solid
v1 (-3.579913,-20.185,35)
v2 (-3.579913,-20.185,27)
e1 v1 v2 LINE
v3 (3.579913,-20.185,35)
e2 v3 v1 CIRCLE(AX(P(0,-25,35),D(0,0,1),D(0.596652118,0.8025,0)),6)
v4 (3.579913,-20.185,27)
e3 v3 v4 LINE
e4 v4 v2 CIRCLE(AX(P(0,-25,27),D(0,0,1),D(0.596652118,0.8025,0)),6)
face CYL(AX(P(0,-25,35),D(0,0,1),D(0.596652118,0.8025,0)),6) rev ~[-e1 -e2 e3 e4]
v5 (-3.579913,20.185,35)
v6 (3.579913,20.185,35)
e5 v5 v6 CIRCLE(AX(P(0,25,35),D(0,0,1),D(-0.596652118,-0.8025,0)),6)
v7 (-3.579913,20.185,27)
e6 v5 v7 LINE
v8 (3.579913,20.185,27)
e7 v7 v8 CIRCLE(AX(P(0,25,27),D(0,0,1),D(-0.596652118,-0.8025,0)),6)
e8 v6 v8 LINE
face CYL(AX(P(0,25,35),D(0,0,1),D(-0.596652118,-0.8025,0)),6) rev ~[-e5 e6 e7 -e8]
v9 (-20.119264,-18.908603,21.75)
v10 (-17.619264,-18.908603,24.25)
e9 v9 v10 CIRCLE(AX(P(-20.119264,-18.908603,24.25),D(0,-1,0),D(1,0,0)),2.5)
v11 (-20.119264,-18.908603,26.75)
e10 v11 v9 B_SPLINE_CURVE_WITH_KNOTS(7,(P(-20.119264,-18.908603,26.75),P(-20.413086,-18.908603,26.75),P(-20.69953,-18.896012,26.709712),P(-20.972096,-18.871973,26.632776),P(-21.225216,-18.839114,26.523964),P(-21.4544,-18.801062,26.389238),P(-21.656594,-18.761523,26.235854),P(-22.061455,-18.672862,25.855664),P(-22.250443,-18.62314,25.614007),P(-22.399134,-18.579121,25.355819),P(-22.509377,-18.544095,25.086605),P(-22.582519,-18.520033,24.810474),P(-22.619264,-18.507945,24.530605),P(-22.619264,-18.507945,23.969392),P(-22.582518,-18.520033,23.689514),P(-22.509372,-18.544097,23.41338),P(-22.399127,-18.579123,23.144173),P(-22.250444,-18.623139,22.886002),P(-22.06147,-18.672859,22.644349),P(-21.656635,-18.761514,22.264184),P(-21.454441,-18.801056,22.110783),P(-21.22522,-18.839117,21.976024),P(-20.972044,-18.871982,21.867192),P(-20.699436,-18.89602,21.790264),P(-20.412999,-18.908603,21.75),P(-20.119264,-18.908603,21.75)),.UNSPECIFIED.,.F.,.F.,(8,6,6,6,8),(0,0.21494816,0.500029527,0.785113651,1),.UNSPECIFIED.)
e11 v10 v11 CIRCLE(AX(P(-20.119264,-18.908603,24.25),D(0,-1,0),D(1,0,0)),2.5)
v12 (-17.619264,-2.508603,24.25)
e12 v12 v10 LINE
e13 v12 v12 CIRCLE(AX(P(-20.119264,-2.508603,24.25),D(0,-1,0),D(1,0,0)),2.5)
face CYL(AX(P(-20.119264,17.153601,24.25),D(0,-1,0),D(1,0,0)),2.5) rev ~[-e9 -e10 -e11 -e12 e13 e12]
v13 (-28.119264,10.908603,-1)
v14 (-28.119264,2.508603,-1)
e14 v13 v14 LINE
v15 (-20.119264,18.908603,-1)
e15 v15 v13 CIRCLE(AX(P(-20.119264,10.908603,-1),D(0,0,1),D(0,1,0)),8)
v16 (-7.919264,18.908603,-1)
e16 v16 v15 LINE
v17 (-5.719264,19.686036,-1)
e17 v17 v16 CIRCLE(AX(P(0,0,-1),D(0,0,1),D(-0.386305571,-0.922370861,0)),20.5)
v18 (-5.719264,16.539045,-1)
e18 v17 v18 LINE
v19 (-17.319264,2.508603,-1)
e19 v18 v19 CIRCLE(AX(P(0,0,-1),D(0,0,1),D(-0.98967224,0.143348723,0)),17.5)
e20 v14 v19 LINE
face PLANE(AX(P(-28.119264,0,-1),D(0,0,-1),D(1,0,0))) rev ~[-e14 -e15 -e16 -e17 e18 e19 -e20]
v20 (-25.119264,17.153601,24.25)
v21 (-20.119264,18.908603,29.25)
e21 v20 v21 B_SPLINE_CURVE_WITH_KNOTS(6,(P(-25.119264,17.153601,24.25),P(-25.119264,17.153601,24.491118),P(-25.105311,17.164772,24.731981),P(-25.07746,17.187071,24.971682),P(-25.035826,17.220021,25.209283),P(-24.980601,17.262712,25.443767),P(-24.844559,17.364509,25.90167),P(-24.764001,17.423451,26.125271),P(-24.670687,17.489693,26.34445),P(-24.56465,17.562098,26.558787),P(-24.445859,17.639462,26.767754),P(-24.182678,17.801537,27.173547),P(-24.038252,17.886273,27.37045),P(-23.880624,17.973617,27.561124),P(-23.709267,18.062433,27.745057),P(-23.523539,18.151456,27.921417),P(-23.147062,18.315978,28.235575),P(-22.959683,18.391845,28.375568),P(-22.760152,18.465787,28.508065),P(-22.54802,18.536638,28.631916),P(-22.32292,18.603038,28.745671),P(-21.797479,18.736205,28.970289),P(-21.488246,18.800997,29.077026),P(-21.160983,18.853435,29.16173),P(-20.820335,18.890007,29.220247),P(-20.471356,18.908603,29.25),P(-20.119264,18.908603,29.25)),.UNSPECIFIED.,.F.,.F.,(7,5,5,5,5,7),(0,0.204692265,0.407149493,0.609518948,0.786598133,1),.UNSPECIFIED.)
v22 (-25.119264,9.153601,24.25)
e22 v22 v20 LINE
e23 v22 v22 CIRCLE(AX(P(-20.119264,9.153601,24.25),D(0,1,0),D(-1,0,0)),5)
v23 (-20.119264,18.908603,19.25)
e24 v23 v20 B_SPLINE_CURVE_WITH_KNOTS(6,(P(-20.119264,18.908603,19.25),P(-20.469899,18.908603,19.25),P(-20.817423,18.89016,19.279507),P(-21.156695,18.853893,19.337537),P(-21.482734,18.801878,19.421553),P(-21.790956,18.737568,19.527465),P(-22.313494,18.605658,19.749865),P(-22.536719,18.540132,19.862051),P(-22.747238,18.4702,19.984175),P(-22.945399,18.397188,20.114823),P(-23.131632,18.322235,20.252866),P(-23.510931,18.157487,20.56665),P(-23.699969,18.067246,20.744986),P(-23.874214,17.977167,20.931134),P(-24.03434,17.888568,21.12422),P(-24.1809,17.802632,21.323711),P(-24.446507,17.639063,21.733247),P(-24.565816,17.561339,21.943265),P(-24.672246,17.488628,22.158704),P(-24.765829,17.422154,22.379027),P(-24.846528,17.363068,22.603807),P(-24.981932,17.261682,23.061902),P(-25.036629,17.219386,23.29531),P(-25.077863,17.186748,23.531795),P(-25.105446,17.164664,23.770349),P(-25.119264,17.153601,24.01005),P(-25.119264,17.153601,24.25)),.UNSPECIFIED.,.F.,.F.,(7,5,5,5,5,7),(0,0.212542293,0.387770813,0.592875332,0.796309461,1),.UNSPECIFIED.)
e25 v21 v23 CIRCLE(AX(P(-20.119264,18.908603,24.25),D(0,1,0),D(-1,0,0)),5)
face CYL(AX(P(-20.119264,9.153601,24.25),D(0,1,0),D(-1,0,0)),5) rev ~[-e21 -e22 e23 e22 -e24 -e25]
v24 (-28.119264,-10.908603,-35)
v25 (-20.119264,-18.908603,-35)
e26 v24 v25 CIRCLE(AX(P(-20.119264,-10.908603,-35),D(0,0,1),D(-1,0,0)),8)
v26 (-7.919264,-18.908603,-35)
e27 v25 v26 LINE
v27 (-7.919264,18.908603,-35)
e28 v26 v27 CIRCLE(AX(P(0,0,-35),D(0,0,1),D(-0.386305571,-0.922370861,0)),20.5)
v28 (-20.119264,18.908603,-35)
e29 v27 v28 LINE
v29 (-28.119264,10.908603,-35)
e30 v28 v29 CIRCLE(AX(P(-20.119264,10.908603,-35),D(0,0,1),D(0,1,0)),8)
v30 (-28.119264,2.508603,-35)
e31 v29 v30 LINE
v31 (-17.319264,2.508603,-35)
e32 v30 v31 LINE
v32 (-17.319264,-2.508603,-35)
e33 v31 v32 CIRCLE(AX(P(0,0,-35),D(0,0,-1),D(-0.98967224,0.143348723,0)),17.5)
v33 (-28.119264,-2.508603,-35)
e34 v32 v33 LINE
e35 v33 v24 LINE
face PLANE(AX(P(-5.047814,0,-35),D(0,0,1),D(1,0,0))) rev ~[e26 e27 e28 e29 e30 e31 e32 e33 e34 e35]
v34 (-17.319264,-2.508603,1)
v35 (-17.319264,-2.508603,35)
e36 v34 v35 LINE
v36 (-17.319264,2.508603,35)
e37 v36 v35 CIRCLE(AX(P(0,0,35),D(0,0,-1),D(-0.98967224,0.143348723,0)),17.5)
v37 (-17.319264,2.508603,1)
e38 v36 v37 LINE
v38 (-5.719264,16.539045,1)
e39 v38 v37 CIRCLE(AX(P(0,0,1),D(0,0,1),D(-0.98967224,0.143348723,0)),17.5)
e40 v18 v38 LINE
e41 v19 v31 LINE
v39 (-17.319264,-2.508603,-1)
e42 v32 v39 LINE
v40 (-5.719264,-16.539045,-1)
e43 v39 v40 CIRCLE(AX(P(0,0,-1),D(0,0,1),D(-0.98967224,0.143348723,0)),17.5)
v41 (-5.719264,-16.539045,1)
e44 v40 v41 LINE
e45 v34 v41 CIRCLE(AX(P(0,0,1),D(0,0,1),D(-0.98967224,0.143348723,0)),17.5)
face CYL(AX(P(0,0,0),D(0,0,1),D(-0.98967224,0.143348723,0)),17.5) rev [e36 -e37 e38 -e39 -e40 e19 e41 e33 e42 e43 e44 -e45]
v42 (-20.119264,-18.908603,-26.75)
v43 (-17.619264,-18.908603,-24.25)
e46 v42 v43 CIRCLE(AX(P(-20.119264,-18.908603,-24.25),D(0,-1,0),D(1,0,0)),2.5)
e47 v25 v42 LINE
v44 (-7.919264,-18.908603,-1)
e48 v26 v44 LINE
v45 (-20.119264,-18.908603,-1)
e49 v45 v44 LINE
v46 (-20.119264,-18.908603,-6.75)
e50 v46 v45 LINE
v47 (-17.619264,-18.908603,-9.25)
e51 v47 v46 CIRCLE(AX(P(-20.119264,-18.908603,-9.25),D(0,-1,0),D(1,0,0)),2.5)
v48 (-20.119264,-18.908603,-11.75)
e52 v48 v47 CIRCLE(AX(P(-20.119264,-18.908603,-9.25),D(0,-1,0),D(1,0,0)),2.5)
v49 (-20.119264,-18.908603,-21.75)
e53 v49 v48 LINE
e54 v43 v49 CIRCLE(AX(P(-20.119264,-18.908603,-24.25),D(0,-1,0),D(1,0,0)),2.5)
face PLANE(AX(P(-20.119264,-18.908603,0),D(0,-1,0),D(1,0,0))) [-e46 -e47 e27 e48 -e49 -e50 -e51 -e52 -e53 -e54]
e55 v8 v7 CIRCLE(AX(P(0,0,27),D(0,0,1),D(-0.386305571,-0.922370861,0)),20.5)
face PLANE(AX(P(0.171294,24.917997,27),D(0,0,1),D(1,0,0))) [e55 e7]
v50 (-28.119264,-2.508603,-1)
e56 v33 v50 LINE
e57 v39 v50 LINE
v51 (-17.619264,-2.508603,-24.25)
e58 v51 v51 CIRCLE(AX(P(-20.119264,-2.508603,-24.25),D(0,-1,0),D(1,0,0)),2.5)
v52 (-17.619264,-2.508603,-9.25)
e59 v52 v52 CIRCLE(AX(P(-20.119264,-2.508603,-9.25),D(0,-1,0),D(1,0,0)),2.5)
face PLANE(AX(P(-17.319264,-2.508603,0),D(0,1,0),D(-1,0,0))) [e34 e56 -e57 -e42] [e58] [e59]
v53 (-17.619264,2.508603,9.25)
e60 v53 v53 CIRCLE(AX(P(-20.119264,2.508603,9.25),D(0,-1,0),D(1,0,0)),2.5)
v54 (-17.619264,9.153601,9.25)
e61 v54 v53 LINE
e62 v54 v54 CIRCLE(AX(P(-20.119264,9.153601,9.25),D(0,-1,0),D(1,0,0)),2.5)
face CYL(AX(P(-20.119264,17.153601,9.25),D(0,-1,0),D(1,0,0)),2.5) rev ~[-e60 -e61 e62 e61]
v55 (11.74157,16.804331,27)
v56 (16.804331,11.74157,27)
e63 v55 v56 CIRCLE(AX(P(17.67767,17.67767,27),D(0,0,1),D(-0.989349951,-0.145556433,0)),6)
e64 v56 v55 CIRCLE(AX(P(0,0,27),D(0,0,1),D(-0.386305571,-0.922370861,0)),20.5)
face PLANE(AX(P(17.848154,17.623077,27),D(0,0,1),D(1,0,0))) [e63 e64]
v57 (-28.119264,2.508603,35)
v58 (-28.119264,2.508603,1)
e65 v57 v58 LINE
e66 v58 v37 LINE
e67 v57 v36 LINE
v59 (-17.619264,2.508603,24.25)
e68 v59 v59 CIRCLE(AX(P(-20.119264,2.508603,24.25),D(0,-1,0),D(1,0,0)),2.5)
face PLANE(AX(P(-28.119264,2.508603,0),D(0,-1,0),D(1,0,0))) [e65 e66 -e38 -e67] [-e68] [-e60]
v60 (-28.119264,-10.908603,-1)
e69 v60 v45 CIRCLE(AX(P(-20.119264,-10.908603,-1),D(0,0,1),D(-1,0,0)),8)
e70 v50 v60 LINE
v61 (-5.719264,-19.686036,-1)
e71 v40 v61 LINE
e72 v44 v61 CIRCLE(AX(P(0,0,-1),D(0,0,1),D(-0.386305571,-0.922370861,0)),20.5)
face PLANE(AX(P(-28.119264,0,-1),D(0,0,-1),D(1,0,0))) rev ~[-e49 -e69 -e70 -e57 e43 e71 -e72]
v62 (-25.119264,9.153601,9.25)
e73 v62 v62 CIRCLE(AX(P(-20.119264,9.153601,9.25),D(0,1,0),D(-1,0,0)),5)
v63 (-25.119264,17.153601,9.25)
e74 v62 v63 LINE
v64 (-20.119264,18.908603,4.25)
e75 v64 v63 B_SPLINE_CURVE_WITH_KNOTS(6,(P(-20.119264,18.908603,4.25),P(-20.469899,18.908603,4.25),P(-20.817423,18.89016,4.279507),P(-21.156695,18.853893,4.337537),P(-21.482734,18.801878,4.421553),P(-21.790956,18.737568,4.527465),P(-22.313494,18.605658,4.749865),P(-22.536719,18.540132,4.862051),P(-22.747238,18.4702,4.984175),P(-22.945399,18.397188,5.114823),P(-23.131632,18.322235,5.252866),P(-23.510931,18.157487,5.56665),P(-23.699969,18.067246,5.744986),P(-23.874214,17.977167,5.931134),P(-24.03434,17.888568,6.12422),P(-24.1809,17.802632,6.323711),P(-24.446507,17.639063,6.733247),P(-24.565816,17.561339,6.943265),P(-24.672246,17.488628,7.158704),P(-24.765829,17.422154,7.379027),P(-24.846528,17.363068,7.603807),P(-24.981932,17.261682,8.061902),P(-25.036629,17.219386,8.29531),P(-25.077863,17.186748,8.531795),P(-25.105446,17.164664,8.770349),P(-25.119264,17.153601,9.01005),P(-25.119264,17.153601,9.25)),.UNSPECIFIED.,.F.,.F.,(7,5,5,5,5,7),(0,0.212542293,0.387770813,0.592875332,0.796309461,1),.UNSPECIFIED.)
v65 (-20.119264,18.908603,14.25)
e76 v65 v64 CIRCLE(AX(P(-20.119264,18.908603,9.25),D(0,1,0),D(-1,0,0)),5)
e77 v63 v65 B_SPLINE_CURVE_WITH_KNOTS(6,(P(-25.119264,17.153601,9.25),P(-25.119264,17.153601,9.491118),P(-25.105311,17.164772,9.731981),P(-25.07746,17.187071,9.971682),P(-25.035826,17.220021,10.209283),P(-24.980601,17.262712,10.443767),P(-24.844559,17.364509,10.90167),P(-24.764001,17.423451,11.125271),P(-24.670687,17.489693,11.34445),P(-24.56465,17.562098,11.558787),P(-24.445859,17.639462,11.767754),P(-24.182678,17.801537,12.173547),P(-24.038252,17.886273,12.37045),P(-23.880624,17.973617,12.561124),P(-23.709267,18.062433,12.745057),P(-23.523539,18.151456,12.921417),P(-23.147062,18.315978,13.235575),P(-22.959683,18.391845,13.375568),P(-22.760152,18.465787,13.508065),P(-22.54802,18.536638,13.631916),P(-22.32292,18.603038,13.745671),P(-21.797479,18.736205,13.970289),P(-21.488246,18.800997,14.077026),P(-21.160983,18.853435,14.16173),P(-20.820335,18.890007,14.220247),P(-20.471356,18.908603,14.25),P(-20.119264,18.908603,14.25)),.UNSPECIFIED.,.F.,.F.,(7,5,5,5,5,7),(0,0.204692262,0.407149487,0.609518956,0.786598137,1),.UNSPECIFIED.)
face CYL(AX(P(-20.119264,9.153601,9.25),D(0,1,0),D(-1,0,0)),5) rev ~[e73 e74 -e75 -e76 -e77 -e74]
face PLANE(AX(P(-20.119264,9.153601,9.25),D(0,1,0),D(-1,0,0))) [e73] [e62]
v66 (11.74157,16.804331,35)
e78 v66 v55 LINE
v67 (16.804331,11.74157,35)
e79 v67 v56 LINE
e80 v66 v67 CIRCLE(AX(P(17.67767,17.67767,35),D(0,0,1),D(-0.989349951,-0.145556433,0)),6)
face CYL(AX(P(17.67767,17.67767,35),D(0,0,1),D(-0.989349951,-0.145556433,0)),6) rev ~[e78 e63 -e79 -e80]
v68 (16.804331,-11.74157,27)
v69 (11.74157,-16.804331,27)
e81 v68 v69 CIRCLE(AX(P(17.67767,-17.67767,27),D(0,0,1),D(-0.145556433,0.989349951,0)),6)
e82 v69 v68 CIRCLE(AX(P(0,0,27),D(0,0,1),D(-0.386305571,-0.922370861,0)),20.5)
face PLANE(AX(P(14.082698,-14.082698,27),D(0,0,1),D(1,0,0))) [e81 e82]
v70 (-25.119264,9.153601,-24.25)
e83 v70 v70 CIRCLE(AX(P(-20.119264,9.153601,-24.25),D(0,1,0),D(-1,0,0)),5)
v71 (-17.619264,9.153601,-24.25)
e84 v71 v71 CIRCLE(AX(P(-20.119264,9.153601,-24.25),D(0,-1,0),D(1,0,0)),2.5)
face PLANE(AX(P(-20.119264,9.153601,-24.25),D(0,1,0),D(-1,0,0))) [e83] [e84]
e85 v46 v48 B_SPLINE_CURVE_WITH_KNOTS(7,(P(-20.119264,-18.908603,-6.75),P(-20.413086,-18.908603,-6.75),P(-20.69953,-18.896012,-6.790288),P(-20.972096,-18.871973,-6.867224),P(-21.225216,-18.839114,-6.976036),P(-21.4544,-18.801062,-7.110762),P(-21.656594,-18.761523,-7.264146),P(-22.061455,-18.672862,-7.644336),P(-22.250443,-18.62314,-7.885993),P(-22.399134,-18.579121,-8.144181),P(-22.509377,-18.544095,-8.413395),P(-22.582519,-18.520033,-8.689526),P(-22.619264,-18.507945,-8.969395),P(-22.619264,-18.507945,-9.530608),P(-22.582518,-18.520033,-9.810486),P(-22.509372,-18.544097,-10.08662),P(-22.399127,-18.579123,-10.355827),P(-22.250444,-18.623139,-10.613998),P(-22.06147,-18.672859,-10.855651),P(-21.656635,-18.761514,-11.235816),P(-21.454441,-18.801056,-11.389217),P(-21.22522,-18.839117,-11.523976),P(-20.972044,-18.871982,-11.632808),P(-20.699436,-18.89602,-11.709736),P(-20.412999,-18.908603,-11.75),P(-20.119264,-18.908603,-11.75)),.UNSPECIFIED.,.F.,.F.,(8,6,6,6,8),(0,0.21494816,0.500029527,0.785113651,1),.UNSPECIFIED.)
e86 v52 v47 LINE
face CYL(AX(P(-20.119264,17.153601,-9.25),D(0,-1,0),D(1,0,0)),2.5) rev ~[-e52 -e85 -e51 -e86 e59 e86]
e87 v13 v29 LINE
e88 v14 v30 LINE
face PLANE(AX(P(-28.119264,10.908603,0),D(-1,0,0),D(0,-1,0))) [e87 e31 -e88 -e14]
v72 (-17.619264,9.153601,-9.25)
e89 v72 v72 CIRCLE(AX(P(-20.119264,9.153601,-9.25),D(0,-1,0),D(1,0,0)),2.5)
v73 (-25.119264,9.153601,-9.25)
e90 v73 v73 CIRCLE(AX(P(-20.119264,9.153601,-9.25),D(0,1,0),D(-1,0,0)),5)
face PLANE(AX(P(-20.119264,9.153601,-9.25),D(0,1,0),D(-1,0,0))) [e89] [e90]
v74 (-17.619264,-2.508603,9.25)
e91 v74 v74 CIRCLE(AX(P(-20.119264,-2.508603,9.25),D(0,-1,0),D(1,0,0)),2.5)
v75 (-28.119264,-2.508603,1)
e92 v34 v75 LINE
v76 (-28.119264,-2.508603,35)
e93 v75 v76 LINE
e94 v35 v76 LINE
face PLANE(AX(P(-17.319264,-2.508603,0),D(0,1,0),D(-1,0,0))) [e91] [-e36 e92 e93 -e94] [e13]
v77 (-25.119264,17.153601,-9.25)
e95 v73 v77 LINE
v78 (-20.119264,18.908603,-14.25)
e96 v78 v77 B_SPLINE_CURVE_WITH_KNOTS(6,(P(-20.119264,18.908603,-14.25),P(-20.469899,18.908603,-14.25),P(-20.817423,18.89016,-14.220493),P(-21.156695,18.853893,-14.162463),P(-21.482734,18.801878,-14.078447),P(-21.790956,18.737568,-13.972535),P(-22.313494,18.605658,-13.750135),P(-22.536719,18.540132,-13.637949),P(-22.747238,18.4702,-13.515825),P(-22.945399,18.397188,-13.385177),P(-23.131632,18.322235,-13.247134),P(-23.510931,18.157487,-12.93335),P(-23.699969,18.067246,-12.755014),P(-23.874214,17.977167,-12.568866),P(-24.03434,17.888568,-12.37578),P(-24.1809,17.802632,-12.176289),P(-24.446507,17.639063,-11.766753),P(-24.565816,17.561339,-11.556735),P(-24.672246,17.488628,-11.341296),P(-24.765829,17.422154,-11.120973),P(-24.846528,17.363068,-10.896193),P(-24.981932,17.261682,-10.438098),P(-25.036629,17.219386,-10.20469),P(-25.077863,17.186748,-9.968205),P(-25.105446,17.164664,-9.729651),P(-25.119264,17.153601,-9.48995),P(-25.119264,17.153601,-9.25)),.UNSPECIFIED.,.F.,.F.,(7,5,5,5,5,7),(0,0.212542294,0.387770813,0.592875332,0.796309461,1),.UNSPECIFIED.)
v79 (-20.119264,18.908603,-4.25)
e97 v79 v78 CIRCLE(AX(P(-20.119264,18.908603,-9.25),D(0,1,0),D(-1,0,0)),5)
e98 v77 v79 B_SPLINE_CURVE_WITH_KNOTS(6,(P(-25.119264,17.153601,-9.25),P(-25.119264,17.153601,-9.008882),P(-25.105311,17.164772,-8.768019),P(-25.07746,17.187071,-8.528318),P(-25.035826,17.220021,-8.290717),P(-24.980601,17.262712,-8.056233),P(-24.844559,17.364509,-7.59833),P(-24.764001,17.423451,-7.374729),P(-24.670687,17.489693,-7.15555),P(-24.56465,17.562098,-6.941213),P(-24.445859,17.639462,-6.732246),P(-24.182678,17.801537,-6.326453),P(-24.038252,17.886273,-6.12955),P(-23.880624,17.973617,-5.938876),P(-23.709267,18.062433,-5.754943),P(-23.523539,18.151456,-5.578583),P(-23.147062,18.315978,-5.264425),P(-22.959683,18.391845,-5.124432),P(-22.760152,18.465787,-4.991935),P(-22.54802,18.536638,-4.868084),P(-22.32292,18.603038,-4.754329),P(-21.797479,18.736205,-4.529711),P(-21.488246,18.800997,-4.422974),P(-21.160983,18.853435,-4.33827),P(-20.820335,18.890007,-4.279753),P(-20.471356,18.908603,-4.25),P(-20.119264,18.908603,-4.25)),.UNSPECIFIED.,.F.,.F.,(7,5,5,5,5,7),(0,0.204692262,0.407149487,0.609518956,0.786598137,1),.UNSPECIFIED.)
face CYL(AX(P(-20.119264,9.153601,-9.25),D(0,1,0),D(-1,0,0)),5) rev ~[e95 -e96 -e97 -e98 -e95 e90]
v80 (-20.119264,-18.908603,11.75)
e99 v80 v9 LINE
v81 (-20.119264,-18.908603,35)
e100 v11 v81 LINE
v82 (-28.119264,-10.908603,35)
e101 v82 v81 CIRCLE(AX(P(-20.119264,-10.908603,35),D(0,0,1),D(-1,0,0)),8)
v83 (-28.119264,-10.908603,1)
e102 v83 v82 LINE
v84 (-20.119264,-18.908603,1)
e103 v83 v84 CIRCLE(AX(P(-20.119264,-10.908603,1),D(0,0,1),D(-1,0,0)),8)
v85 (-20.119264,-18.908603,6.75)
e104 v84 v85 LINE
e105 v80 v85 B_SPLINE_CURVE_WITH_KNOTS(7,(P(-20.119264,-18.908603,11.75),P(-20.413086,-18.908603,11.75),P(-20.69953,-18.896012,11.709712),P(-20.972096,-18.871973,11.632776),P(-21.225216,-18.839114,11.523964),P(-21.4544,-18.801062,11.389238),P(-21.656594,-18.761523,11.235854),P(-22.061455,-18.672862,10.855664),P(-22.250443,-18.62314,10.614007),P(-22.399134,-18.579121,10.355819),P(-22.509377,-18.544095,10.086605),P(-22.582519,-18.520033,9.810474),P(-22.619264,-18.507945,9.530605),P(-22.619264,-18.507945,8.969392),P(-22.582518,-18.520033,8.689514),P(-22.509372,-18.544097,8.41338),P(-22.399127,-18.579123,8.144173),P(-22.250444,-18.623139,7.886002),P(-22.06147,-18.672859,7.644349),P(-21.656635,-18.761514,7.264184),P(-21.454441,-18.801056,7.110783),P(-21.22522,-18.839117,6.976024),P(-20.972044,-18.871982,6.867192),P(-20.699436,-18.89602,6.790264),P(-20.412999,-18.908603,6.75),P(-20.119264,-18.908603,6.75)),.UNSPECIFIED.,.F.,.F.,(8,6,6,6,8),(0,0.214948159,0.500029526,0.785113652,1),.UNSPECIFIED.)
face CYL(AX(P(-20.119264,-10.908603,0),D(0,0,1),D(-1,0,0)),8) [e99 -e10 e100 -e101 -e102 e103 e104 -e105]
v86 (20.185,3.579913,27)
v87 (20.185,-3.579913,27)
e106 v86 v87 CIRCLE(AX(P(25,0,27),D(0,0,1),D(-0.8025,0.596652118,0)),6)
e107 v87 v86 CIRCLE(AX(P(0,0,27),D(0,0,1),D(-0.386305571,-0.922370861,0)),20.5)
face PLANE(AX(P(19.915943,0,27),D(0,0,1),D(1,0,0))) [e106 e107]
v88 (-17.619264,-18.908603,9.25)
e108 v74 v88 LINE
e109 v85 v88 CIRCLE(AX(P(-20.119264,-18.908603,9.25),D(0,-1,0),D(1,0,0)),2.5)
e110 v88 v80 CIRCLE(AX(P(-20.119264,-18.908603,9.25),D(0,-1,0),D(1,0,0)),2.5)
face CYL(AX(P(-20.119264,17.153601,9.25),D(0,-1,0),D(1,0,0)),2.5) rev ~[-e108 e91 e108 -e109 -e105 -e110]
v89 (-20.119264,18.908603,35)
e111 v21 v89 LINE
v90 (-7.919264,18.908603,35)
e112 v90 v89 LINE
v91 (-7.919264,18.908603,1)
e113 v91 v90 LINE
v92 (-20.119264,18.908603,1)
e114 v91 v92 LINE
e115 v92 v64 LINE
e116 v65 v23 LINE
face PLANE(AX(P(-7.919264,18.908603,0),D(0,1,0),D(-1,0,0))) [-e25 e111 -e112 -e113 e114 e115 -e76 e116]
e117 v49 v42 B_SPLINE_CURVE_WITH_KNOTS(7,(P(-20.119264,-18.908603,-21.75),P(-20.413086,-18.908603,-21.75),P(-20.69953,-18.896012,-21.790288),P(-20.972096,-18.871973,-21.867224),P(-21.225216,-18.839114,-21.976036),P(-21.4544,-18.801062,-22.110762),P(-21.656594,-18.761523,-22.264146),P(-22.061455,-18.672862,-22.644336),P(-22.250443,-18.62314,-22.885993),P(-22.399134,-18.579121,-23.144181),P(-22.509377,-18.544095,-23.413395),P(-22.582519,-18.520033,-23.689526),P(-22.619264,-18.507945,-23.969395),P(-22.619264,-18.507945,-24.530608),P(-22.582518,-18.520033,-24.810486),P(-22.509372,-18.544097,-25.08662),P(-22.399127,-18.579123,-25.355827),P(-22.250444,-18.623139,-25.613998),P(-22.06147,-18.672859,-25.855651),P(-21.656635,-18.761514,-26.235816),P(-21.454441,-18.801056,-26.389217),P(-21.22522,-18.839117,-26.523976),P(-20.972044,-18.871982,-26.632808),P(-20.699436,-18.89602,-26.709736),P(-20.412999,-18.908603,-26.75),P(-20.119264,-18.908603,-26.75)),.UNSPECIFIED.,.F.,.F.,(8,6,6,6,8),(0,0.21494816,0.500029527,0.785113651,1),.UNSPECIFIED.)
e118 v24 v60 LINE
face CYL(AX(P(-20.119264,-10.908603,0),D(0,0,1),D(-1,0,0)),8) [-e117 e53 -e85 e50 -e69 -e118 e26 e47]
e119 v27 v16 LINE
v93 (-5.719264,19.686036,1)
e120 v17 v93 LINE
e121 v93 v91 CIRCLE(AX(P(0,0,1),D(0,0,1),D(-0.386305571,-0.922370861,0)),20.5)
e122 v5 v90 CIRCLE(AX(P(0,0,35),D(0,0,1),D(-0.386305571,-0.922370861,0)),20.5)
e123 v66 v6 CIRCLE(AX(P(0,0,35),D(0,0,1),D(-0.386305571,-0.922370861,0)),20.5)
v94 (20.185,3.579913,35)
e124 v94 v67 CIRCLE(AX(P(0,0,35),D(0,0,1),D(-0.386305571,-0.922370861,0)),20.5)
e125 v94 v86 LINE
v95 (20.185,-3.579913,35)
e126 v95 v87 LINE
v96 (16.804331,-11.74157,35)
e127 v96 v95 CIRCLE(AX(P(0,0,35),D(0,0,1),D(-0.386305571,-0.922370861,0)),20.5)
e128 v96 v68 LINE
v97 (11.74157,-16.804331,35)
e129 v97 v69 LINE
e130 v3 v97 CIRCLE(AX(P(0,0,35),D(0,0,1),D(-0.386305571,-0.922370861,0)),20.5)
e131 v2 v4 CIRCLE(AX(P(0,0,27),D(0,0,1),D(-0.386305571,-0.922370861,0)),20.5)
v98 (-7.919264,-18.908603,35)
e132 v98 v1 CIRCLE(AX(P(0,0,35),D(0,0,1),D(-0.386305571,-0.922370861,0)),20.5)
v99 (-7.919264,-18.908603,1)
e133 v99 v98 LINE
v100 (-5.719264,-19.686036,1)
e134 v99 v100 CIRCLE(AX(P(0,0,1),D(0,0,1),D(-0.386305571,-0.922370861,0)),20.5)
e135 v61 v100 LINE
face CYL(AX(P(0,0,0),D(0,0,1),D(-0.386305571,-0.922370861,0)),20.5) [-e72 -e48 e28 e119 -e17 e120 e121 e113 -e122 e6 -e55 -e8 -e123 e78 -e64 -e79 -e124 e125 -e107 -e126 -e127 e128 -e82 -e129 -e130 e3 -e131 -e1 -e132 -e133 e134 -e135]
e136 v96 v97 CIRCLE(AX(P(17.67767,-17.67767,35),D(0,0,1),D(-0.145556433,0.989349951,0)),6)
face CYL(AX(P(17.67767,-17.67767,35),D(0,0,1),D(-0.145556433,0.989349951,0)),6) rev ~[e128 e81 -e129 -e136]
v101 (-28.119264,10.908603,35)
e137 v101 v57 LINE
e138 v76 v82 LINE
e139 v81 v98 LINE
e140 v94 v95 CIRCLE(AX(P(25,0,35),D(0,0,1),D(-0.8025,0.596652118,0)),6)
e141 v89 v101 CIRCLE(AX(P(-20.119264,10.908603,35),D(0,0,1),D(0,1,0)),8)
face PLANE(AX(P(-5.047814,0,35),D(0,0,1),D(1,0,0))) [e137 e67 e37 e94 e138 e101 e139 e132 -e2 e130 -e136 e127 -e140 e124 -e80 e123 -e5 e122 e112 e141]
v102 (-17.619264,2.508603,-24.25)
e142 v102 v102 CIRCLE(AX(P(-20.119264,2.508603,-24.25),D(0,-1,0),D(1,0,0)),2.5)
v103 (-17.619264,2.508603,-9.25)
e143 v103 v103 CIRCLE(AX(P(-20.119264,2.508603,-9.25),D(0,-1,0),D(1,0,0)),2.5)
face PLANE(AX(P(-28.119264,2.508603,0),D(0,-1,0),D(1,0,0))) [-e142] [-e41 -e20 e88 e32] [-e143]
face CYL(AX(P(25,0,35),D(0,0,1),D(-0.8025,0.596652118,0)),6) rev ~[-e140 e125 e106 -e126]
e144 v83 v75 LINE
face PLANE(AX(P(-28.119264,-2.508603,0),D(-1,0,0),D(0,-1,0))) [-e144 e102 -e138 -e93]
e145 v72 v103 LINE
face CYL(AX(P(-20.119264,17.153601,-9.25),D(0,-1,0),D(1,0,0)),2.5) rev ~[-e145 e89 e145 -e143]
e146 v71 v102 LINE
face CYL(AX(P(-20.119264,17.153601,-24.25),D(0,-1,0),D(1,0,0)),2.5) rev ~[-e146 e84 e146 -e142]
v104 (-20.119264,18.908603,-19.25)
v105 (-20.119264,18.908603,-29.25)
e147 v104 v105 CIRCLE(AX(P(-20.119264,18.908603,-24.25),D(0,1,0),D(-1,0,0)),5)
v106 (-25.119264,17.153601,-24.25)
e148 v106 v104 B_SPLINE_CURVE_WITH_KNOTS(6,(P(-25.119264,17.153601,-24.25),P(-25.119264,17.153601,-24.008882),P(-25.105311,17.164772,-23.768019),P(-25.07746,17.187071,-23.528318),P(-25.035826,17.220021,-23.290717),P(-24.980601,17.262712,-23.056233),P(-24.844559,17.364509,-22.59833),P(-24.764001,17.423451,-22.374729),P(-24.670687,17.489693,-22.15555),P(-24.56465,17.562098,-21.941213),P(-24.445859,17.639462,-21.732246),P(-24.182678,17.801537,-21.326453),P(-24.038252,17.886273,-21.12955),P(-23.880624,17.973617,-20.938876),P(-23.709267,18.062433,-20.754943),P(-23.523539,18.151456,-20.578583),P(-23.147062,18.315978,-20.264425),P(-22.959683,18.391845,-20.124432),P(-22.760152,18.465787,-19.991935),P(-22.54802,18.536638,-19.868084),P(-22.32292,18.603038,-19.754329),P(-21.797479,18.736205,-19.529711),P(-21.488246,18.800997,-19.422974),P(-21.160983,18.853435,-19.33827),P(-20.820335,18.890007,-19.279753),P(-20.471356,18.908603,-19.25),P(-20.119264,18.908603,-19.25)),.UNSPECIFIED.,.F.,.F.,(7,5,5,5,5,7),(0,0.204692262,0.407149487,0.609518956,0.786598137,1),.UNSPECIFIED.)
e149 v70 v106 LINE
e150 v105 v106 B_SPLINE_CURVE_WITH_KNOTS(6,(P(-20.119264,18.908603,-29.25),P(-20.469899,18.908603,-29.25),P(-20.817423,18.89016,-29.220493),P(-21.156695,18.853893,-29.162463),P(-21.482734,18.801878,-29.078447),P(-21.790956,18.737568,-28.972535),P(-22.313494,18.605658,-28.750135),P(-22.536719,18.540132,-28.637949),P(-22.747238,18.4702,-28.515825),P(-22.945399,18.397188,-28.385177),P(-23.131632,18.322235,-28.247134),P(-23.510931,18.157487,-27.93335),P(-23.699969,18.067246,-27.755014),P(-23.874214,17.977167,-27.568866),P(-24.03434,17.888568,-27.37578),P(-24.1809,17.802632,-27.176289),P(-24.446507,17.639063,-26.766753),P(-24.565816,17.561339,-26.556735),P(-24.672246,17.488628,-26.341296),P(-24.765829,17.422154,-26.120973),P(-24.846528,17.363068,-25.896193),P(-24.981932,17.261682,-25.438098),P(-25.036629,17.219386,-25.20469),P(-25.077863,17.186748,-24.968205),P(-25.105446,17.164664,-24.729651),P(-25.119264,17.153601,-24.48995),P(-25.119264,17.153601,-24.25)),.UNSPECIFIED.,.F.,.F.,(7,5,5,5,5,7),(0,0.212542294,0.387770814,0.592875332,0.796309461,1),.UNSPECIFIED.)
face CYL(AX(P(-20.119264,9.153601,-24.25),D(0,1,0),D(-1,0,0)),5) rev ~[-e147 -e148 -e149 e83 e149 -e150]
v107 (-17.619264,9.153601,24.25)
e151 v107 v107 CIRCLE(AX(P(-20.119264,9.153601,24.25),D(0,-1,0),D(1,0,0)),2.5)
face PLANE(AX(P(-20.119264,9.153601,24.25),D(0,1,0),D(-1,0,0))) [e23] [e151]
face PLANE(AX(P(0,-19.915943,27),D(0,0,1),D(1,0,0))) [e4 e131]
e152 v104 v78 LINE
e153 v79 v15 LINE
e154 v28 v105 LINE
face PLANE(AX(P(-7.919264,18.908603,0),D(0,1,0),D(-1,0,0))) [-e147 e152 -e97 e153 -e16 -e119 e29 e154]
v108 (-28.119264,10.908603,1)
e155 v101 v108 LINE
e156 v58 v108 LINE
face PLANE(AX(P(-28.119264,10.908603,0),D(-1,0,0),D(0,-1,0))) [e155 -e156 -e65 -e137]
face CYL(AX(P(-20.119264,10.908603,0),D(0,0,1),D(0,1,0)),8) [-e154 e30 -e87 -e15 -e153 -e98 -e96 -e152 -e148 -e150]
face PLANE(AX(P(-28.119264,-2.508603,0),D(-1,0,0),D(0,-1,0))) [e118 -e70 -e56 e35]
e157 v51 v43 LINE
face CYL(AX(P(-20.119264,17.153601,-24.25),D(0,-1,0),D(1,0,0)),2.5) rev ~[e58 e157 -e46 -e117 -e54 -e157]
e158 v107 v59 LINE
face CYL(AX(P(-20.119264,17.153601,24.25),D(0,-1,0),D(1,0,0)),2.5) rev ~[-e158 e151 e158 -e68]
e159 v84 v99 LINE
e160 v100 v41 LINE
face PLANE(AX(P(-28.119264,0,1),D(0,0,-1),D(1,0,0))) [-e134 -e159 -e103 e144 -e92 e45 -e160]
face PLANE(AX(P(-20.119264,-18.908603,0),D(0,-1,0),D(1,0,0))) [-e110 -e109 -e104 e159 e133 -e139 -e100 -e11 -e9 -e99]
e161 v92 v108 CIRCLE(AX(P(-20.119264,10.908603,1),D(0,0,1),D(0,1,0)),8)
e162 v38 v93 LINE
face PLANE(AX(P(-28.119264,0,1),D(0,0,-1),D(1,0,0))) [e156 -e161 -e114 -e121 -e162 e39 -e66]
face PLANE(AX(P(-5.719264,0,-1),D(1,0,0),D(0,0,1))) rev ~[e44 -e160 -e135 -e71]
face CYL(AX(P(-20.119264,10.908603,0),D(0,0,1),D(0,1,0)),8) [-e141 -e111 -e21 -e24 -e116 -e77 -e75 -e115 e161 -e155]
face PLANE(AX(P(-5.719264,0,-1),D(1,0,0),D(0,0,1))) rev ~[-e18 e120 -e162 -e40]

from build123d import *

# Parameters (mm, degrees)
F1_DEPTH       = 35
F3_D           = 5
F3_START       = 1.7550021
F3_CBORE_D     = 10
F3_CBORE_DEPTH = 8
F4_W           = 22.4
F4_H           = 2
F5_DEPTH       = 25
F7_DEPTH       = 8


with BuildPart() as f1:
    # F0 (on Top) → F1 (new body, symmetric)
    with BuildSketch(Plane.XY):
        with BuildLine():
            ThreePointArc((-17.3192642082, 2.5086026559), (17.5, 0), (-17.3192642082, -2.5086026559))
            Line((-17.3192642082, -2.5086026559), (-28.1192642082, -2.5086026559))
            Line((-28.1192642082, -2.5086026559), (-28.1192642082, -10.9086026559))
            ThreePointArc((-28.1192642082, -10.9086026559), (-25.7761184577, -16.5654569054), (-20.1192642082, -18.9086026559))
            Line((-20.1192642082, -18.9086026559), (-7.9192642082, -18.9086026559))
            ThreePointArc((-7.9192642082, -18.9086026559), (20.5, 0), (-7.9192642082, 18.9086026559))
            Line((-7.9192642082, 18.9086026559), (-20.1192642082, 18.9086026559))
            ThreePointArc((-20.1192642082, 18.9086026559), (-25.7761184577, 16.5654569054), (-28.1192642082, 10.9086026559))
            Line((-28.1192642082, 10.9086026559), (-28.1192642082, 2.5086026559))
            Line((-28.1192642082, 2.5086026559), (-17.3192642082, 2.5086026559))
        make_face()
    extrude(amount=F1_DEPTH, both=True)

    # F3 (through all)
    # its depths count from where the whole tool has entered the part; down to there all is cleared
    with Locations(Plane(origin=(0, 18.9086026559, 0), x_dir=(-1, 0, 0), z_dir=(0, 1, 0)).offset(-F3_START)):
        with Locations((20.1192642082, -24.25), (20.1192642082, -9.25), (20.1192642082, 9.25), (20.1192642082, 24.25)):
            CounterBoreHole(F3_D / 2, F3_CBORE_D / 2, F3_CBORE_DEPTH)

    # F4 (on Front) → F5 (cut, symmetric)
    with BuildSketch(Plane.XZ):
        with Locations((-16.9192642082, 0)):
            Rectangle(F4_W, F4_H)
    extrude(amount=F5_DEPTH, both=True, mode=Mode.SUBTRACT)

    # F6 (on face) → F7 (cut)
    with BuildSketch(Plane.XY.offset(35)):
        with BuildLine():
            ThreePointArc((-3.5799127084, -20.185), (0, -20.5), (3.5799127084, -20.185))
            ThreePointArc((3.5799127084, -20.185), (0, -19), (-3.5799127084, -20.185))
        make_face()
        with BuildLine():
            ThreePointArc((16.8043309304, -11.7415698261), (13.4350288425, -13.4350288425), (11.7415698261, -16.8043309304))
            ThreePointArc((11.7415698261, -16.8043309304), (14.4956890143, -14.4956890143), (16.8043309304, -11.7415698261))
        make_face()
        with BuildLine():
            ThreePointArc((20.185, 3.5799127084), (19, 0), (20.185, -3.5799127084))
            ThreePointArc((20.185, -3.5799127084), (20.5, 0), (20.185, 3.5799127084))
        make_face()
        with BuildLine():
            ThreePointArc((11.7415698261, 16.8043309304), (14.4956890143, 14.4956890143), (16.8043309304, 11.7415698261))
            ThreePointArc((16.8043309304, 11.7415698261), (21.5994018258, 13.1367427743), (23.6776695297, 17.6776695297))
            ThreePointArc((23.6776695297, 17.6776695297), (17.2398329286, 23.6616731318), (11.7415698261, 16.8043309304))
        make_face()
        with BuildLine():
            ThreePointArc((-3.5799127084, 20.185), (0, 20.5), (3.5799127084, 20.185))
            ThreePointArc((3.5799127084, 20.185), (5.3609456372, 22.305512688), (6, 25))
            ThreePointArc((6, 25), (-2.694487312, 30.3609456372), (-3.5799127084, 20.185))
        make_face()
        with BuildLine():
            ThreePointArc((-3.5799127084, 20.185), (0, 19), (3.5799127084, 20.185))
            ThreePointArc((3.5799127084, 20.185), (0, 20.5), (-3.5799127084, 20.185))
        make_face()
        with BuildLine():
            ThreePointArc((11.7415698261, 16.8043309304), (13.4350288425, 13.4350288425), (16.8043309304, 11.7415698261))
            ThreePointArc((16.8043309304, 11.7415698261), (14.4956890143, 14.4956890143), (11.7415698261, 16.8043309304))
        make_face()
        with BuildLine():
            ThreePointArc((20.185, 3.5799127084), (20.5, 0), (20.185, -3.5799127084))
            ThreePointArc((20.185, -3.5799127084), (26.8854707635, -5.6960512638), (31, 0))
            ThreePointArc((31, 0), (26.8854707635, 5.6960512638), (20.185, 3.5799127084))
        make_face()
        with BuildLine():
            ThreePointArc((16.8043309304, -11.7415698261), (14.4956890143, -14.4956890143), (11.7415698261, -16.8043309304))
            ThreePointArc((11.7415698261, -16.8043309304), (17.2398329286, -23.6616731318), (23.6776695297, -17.6776695297))
            ThreePointArc((23.6776695297, -17.6776695297), (21.5994018258, -13.1367427743), (16.8043309304, -11.7415698261))
        make_face()
        with BuildLine():
            ThreePointArc((-3.5799127084, -20.185), (-2.694487312, -30.3609456372), (6, -25))
            ThreePointArc((6, -25), (5.3609456372, -22.305512688), (3.5799127084, -20.185))
            ThreePointArc((3.5799127084, -20.185), (0, -20.5), (-3.5799127084, -20.185))
        make_face()
    extrude(amount=-F7_DEPTH, mode=Mode.SUBTRACT)


solid = f1.part
